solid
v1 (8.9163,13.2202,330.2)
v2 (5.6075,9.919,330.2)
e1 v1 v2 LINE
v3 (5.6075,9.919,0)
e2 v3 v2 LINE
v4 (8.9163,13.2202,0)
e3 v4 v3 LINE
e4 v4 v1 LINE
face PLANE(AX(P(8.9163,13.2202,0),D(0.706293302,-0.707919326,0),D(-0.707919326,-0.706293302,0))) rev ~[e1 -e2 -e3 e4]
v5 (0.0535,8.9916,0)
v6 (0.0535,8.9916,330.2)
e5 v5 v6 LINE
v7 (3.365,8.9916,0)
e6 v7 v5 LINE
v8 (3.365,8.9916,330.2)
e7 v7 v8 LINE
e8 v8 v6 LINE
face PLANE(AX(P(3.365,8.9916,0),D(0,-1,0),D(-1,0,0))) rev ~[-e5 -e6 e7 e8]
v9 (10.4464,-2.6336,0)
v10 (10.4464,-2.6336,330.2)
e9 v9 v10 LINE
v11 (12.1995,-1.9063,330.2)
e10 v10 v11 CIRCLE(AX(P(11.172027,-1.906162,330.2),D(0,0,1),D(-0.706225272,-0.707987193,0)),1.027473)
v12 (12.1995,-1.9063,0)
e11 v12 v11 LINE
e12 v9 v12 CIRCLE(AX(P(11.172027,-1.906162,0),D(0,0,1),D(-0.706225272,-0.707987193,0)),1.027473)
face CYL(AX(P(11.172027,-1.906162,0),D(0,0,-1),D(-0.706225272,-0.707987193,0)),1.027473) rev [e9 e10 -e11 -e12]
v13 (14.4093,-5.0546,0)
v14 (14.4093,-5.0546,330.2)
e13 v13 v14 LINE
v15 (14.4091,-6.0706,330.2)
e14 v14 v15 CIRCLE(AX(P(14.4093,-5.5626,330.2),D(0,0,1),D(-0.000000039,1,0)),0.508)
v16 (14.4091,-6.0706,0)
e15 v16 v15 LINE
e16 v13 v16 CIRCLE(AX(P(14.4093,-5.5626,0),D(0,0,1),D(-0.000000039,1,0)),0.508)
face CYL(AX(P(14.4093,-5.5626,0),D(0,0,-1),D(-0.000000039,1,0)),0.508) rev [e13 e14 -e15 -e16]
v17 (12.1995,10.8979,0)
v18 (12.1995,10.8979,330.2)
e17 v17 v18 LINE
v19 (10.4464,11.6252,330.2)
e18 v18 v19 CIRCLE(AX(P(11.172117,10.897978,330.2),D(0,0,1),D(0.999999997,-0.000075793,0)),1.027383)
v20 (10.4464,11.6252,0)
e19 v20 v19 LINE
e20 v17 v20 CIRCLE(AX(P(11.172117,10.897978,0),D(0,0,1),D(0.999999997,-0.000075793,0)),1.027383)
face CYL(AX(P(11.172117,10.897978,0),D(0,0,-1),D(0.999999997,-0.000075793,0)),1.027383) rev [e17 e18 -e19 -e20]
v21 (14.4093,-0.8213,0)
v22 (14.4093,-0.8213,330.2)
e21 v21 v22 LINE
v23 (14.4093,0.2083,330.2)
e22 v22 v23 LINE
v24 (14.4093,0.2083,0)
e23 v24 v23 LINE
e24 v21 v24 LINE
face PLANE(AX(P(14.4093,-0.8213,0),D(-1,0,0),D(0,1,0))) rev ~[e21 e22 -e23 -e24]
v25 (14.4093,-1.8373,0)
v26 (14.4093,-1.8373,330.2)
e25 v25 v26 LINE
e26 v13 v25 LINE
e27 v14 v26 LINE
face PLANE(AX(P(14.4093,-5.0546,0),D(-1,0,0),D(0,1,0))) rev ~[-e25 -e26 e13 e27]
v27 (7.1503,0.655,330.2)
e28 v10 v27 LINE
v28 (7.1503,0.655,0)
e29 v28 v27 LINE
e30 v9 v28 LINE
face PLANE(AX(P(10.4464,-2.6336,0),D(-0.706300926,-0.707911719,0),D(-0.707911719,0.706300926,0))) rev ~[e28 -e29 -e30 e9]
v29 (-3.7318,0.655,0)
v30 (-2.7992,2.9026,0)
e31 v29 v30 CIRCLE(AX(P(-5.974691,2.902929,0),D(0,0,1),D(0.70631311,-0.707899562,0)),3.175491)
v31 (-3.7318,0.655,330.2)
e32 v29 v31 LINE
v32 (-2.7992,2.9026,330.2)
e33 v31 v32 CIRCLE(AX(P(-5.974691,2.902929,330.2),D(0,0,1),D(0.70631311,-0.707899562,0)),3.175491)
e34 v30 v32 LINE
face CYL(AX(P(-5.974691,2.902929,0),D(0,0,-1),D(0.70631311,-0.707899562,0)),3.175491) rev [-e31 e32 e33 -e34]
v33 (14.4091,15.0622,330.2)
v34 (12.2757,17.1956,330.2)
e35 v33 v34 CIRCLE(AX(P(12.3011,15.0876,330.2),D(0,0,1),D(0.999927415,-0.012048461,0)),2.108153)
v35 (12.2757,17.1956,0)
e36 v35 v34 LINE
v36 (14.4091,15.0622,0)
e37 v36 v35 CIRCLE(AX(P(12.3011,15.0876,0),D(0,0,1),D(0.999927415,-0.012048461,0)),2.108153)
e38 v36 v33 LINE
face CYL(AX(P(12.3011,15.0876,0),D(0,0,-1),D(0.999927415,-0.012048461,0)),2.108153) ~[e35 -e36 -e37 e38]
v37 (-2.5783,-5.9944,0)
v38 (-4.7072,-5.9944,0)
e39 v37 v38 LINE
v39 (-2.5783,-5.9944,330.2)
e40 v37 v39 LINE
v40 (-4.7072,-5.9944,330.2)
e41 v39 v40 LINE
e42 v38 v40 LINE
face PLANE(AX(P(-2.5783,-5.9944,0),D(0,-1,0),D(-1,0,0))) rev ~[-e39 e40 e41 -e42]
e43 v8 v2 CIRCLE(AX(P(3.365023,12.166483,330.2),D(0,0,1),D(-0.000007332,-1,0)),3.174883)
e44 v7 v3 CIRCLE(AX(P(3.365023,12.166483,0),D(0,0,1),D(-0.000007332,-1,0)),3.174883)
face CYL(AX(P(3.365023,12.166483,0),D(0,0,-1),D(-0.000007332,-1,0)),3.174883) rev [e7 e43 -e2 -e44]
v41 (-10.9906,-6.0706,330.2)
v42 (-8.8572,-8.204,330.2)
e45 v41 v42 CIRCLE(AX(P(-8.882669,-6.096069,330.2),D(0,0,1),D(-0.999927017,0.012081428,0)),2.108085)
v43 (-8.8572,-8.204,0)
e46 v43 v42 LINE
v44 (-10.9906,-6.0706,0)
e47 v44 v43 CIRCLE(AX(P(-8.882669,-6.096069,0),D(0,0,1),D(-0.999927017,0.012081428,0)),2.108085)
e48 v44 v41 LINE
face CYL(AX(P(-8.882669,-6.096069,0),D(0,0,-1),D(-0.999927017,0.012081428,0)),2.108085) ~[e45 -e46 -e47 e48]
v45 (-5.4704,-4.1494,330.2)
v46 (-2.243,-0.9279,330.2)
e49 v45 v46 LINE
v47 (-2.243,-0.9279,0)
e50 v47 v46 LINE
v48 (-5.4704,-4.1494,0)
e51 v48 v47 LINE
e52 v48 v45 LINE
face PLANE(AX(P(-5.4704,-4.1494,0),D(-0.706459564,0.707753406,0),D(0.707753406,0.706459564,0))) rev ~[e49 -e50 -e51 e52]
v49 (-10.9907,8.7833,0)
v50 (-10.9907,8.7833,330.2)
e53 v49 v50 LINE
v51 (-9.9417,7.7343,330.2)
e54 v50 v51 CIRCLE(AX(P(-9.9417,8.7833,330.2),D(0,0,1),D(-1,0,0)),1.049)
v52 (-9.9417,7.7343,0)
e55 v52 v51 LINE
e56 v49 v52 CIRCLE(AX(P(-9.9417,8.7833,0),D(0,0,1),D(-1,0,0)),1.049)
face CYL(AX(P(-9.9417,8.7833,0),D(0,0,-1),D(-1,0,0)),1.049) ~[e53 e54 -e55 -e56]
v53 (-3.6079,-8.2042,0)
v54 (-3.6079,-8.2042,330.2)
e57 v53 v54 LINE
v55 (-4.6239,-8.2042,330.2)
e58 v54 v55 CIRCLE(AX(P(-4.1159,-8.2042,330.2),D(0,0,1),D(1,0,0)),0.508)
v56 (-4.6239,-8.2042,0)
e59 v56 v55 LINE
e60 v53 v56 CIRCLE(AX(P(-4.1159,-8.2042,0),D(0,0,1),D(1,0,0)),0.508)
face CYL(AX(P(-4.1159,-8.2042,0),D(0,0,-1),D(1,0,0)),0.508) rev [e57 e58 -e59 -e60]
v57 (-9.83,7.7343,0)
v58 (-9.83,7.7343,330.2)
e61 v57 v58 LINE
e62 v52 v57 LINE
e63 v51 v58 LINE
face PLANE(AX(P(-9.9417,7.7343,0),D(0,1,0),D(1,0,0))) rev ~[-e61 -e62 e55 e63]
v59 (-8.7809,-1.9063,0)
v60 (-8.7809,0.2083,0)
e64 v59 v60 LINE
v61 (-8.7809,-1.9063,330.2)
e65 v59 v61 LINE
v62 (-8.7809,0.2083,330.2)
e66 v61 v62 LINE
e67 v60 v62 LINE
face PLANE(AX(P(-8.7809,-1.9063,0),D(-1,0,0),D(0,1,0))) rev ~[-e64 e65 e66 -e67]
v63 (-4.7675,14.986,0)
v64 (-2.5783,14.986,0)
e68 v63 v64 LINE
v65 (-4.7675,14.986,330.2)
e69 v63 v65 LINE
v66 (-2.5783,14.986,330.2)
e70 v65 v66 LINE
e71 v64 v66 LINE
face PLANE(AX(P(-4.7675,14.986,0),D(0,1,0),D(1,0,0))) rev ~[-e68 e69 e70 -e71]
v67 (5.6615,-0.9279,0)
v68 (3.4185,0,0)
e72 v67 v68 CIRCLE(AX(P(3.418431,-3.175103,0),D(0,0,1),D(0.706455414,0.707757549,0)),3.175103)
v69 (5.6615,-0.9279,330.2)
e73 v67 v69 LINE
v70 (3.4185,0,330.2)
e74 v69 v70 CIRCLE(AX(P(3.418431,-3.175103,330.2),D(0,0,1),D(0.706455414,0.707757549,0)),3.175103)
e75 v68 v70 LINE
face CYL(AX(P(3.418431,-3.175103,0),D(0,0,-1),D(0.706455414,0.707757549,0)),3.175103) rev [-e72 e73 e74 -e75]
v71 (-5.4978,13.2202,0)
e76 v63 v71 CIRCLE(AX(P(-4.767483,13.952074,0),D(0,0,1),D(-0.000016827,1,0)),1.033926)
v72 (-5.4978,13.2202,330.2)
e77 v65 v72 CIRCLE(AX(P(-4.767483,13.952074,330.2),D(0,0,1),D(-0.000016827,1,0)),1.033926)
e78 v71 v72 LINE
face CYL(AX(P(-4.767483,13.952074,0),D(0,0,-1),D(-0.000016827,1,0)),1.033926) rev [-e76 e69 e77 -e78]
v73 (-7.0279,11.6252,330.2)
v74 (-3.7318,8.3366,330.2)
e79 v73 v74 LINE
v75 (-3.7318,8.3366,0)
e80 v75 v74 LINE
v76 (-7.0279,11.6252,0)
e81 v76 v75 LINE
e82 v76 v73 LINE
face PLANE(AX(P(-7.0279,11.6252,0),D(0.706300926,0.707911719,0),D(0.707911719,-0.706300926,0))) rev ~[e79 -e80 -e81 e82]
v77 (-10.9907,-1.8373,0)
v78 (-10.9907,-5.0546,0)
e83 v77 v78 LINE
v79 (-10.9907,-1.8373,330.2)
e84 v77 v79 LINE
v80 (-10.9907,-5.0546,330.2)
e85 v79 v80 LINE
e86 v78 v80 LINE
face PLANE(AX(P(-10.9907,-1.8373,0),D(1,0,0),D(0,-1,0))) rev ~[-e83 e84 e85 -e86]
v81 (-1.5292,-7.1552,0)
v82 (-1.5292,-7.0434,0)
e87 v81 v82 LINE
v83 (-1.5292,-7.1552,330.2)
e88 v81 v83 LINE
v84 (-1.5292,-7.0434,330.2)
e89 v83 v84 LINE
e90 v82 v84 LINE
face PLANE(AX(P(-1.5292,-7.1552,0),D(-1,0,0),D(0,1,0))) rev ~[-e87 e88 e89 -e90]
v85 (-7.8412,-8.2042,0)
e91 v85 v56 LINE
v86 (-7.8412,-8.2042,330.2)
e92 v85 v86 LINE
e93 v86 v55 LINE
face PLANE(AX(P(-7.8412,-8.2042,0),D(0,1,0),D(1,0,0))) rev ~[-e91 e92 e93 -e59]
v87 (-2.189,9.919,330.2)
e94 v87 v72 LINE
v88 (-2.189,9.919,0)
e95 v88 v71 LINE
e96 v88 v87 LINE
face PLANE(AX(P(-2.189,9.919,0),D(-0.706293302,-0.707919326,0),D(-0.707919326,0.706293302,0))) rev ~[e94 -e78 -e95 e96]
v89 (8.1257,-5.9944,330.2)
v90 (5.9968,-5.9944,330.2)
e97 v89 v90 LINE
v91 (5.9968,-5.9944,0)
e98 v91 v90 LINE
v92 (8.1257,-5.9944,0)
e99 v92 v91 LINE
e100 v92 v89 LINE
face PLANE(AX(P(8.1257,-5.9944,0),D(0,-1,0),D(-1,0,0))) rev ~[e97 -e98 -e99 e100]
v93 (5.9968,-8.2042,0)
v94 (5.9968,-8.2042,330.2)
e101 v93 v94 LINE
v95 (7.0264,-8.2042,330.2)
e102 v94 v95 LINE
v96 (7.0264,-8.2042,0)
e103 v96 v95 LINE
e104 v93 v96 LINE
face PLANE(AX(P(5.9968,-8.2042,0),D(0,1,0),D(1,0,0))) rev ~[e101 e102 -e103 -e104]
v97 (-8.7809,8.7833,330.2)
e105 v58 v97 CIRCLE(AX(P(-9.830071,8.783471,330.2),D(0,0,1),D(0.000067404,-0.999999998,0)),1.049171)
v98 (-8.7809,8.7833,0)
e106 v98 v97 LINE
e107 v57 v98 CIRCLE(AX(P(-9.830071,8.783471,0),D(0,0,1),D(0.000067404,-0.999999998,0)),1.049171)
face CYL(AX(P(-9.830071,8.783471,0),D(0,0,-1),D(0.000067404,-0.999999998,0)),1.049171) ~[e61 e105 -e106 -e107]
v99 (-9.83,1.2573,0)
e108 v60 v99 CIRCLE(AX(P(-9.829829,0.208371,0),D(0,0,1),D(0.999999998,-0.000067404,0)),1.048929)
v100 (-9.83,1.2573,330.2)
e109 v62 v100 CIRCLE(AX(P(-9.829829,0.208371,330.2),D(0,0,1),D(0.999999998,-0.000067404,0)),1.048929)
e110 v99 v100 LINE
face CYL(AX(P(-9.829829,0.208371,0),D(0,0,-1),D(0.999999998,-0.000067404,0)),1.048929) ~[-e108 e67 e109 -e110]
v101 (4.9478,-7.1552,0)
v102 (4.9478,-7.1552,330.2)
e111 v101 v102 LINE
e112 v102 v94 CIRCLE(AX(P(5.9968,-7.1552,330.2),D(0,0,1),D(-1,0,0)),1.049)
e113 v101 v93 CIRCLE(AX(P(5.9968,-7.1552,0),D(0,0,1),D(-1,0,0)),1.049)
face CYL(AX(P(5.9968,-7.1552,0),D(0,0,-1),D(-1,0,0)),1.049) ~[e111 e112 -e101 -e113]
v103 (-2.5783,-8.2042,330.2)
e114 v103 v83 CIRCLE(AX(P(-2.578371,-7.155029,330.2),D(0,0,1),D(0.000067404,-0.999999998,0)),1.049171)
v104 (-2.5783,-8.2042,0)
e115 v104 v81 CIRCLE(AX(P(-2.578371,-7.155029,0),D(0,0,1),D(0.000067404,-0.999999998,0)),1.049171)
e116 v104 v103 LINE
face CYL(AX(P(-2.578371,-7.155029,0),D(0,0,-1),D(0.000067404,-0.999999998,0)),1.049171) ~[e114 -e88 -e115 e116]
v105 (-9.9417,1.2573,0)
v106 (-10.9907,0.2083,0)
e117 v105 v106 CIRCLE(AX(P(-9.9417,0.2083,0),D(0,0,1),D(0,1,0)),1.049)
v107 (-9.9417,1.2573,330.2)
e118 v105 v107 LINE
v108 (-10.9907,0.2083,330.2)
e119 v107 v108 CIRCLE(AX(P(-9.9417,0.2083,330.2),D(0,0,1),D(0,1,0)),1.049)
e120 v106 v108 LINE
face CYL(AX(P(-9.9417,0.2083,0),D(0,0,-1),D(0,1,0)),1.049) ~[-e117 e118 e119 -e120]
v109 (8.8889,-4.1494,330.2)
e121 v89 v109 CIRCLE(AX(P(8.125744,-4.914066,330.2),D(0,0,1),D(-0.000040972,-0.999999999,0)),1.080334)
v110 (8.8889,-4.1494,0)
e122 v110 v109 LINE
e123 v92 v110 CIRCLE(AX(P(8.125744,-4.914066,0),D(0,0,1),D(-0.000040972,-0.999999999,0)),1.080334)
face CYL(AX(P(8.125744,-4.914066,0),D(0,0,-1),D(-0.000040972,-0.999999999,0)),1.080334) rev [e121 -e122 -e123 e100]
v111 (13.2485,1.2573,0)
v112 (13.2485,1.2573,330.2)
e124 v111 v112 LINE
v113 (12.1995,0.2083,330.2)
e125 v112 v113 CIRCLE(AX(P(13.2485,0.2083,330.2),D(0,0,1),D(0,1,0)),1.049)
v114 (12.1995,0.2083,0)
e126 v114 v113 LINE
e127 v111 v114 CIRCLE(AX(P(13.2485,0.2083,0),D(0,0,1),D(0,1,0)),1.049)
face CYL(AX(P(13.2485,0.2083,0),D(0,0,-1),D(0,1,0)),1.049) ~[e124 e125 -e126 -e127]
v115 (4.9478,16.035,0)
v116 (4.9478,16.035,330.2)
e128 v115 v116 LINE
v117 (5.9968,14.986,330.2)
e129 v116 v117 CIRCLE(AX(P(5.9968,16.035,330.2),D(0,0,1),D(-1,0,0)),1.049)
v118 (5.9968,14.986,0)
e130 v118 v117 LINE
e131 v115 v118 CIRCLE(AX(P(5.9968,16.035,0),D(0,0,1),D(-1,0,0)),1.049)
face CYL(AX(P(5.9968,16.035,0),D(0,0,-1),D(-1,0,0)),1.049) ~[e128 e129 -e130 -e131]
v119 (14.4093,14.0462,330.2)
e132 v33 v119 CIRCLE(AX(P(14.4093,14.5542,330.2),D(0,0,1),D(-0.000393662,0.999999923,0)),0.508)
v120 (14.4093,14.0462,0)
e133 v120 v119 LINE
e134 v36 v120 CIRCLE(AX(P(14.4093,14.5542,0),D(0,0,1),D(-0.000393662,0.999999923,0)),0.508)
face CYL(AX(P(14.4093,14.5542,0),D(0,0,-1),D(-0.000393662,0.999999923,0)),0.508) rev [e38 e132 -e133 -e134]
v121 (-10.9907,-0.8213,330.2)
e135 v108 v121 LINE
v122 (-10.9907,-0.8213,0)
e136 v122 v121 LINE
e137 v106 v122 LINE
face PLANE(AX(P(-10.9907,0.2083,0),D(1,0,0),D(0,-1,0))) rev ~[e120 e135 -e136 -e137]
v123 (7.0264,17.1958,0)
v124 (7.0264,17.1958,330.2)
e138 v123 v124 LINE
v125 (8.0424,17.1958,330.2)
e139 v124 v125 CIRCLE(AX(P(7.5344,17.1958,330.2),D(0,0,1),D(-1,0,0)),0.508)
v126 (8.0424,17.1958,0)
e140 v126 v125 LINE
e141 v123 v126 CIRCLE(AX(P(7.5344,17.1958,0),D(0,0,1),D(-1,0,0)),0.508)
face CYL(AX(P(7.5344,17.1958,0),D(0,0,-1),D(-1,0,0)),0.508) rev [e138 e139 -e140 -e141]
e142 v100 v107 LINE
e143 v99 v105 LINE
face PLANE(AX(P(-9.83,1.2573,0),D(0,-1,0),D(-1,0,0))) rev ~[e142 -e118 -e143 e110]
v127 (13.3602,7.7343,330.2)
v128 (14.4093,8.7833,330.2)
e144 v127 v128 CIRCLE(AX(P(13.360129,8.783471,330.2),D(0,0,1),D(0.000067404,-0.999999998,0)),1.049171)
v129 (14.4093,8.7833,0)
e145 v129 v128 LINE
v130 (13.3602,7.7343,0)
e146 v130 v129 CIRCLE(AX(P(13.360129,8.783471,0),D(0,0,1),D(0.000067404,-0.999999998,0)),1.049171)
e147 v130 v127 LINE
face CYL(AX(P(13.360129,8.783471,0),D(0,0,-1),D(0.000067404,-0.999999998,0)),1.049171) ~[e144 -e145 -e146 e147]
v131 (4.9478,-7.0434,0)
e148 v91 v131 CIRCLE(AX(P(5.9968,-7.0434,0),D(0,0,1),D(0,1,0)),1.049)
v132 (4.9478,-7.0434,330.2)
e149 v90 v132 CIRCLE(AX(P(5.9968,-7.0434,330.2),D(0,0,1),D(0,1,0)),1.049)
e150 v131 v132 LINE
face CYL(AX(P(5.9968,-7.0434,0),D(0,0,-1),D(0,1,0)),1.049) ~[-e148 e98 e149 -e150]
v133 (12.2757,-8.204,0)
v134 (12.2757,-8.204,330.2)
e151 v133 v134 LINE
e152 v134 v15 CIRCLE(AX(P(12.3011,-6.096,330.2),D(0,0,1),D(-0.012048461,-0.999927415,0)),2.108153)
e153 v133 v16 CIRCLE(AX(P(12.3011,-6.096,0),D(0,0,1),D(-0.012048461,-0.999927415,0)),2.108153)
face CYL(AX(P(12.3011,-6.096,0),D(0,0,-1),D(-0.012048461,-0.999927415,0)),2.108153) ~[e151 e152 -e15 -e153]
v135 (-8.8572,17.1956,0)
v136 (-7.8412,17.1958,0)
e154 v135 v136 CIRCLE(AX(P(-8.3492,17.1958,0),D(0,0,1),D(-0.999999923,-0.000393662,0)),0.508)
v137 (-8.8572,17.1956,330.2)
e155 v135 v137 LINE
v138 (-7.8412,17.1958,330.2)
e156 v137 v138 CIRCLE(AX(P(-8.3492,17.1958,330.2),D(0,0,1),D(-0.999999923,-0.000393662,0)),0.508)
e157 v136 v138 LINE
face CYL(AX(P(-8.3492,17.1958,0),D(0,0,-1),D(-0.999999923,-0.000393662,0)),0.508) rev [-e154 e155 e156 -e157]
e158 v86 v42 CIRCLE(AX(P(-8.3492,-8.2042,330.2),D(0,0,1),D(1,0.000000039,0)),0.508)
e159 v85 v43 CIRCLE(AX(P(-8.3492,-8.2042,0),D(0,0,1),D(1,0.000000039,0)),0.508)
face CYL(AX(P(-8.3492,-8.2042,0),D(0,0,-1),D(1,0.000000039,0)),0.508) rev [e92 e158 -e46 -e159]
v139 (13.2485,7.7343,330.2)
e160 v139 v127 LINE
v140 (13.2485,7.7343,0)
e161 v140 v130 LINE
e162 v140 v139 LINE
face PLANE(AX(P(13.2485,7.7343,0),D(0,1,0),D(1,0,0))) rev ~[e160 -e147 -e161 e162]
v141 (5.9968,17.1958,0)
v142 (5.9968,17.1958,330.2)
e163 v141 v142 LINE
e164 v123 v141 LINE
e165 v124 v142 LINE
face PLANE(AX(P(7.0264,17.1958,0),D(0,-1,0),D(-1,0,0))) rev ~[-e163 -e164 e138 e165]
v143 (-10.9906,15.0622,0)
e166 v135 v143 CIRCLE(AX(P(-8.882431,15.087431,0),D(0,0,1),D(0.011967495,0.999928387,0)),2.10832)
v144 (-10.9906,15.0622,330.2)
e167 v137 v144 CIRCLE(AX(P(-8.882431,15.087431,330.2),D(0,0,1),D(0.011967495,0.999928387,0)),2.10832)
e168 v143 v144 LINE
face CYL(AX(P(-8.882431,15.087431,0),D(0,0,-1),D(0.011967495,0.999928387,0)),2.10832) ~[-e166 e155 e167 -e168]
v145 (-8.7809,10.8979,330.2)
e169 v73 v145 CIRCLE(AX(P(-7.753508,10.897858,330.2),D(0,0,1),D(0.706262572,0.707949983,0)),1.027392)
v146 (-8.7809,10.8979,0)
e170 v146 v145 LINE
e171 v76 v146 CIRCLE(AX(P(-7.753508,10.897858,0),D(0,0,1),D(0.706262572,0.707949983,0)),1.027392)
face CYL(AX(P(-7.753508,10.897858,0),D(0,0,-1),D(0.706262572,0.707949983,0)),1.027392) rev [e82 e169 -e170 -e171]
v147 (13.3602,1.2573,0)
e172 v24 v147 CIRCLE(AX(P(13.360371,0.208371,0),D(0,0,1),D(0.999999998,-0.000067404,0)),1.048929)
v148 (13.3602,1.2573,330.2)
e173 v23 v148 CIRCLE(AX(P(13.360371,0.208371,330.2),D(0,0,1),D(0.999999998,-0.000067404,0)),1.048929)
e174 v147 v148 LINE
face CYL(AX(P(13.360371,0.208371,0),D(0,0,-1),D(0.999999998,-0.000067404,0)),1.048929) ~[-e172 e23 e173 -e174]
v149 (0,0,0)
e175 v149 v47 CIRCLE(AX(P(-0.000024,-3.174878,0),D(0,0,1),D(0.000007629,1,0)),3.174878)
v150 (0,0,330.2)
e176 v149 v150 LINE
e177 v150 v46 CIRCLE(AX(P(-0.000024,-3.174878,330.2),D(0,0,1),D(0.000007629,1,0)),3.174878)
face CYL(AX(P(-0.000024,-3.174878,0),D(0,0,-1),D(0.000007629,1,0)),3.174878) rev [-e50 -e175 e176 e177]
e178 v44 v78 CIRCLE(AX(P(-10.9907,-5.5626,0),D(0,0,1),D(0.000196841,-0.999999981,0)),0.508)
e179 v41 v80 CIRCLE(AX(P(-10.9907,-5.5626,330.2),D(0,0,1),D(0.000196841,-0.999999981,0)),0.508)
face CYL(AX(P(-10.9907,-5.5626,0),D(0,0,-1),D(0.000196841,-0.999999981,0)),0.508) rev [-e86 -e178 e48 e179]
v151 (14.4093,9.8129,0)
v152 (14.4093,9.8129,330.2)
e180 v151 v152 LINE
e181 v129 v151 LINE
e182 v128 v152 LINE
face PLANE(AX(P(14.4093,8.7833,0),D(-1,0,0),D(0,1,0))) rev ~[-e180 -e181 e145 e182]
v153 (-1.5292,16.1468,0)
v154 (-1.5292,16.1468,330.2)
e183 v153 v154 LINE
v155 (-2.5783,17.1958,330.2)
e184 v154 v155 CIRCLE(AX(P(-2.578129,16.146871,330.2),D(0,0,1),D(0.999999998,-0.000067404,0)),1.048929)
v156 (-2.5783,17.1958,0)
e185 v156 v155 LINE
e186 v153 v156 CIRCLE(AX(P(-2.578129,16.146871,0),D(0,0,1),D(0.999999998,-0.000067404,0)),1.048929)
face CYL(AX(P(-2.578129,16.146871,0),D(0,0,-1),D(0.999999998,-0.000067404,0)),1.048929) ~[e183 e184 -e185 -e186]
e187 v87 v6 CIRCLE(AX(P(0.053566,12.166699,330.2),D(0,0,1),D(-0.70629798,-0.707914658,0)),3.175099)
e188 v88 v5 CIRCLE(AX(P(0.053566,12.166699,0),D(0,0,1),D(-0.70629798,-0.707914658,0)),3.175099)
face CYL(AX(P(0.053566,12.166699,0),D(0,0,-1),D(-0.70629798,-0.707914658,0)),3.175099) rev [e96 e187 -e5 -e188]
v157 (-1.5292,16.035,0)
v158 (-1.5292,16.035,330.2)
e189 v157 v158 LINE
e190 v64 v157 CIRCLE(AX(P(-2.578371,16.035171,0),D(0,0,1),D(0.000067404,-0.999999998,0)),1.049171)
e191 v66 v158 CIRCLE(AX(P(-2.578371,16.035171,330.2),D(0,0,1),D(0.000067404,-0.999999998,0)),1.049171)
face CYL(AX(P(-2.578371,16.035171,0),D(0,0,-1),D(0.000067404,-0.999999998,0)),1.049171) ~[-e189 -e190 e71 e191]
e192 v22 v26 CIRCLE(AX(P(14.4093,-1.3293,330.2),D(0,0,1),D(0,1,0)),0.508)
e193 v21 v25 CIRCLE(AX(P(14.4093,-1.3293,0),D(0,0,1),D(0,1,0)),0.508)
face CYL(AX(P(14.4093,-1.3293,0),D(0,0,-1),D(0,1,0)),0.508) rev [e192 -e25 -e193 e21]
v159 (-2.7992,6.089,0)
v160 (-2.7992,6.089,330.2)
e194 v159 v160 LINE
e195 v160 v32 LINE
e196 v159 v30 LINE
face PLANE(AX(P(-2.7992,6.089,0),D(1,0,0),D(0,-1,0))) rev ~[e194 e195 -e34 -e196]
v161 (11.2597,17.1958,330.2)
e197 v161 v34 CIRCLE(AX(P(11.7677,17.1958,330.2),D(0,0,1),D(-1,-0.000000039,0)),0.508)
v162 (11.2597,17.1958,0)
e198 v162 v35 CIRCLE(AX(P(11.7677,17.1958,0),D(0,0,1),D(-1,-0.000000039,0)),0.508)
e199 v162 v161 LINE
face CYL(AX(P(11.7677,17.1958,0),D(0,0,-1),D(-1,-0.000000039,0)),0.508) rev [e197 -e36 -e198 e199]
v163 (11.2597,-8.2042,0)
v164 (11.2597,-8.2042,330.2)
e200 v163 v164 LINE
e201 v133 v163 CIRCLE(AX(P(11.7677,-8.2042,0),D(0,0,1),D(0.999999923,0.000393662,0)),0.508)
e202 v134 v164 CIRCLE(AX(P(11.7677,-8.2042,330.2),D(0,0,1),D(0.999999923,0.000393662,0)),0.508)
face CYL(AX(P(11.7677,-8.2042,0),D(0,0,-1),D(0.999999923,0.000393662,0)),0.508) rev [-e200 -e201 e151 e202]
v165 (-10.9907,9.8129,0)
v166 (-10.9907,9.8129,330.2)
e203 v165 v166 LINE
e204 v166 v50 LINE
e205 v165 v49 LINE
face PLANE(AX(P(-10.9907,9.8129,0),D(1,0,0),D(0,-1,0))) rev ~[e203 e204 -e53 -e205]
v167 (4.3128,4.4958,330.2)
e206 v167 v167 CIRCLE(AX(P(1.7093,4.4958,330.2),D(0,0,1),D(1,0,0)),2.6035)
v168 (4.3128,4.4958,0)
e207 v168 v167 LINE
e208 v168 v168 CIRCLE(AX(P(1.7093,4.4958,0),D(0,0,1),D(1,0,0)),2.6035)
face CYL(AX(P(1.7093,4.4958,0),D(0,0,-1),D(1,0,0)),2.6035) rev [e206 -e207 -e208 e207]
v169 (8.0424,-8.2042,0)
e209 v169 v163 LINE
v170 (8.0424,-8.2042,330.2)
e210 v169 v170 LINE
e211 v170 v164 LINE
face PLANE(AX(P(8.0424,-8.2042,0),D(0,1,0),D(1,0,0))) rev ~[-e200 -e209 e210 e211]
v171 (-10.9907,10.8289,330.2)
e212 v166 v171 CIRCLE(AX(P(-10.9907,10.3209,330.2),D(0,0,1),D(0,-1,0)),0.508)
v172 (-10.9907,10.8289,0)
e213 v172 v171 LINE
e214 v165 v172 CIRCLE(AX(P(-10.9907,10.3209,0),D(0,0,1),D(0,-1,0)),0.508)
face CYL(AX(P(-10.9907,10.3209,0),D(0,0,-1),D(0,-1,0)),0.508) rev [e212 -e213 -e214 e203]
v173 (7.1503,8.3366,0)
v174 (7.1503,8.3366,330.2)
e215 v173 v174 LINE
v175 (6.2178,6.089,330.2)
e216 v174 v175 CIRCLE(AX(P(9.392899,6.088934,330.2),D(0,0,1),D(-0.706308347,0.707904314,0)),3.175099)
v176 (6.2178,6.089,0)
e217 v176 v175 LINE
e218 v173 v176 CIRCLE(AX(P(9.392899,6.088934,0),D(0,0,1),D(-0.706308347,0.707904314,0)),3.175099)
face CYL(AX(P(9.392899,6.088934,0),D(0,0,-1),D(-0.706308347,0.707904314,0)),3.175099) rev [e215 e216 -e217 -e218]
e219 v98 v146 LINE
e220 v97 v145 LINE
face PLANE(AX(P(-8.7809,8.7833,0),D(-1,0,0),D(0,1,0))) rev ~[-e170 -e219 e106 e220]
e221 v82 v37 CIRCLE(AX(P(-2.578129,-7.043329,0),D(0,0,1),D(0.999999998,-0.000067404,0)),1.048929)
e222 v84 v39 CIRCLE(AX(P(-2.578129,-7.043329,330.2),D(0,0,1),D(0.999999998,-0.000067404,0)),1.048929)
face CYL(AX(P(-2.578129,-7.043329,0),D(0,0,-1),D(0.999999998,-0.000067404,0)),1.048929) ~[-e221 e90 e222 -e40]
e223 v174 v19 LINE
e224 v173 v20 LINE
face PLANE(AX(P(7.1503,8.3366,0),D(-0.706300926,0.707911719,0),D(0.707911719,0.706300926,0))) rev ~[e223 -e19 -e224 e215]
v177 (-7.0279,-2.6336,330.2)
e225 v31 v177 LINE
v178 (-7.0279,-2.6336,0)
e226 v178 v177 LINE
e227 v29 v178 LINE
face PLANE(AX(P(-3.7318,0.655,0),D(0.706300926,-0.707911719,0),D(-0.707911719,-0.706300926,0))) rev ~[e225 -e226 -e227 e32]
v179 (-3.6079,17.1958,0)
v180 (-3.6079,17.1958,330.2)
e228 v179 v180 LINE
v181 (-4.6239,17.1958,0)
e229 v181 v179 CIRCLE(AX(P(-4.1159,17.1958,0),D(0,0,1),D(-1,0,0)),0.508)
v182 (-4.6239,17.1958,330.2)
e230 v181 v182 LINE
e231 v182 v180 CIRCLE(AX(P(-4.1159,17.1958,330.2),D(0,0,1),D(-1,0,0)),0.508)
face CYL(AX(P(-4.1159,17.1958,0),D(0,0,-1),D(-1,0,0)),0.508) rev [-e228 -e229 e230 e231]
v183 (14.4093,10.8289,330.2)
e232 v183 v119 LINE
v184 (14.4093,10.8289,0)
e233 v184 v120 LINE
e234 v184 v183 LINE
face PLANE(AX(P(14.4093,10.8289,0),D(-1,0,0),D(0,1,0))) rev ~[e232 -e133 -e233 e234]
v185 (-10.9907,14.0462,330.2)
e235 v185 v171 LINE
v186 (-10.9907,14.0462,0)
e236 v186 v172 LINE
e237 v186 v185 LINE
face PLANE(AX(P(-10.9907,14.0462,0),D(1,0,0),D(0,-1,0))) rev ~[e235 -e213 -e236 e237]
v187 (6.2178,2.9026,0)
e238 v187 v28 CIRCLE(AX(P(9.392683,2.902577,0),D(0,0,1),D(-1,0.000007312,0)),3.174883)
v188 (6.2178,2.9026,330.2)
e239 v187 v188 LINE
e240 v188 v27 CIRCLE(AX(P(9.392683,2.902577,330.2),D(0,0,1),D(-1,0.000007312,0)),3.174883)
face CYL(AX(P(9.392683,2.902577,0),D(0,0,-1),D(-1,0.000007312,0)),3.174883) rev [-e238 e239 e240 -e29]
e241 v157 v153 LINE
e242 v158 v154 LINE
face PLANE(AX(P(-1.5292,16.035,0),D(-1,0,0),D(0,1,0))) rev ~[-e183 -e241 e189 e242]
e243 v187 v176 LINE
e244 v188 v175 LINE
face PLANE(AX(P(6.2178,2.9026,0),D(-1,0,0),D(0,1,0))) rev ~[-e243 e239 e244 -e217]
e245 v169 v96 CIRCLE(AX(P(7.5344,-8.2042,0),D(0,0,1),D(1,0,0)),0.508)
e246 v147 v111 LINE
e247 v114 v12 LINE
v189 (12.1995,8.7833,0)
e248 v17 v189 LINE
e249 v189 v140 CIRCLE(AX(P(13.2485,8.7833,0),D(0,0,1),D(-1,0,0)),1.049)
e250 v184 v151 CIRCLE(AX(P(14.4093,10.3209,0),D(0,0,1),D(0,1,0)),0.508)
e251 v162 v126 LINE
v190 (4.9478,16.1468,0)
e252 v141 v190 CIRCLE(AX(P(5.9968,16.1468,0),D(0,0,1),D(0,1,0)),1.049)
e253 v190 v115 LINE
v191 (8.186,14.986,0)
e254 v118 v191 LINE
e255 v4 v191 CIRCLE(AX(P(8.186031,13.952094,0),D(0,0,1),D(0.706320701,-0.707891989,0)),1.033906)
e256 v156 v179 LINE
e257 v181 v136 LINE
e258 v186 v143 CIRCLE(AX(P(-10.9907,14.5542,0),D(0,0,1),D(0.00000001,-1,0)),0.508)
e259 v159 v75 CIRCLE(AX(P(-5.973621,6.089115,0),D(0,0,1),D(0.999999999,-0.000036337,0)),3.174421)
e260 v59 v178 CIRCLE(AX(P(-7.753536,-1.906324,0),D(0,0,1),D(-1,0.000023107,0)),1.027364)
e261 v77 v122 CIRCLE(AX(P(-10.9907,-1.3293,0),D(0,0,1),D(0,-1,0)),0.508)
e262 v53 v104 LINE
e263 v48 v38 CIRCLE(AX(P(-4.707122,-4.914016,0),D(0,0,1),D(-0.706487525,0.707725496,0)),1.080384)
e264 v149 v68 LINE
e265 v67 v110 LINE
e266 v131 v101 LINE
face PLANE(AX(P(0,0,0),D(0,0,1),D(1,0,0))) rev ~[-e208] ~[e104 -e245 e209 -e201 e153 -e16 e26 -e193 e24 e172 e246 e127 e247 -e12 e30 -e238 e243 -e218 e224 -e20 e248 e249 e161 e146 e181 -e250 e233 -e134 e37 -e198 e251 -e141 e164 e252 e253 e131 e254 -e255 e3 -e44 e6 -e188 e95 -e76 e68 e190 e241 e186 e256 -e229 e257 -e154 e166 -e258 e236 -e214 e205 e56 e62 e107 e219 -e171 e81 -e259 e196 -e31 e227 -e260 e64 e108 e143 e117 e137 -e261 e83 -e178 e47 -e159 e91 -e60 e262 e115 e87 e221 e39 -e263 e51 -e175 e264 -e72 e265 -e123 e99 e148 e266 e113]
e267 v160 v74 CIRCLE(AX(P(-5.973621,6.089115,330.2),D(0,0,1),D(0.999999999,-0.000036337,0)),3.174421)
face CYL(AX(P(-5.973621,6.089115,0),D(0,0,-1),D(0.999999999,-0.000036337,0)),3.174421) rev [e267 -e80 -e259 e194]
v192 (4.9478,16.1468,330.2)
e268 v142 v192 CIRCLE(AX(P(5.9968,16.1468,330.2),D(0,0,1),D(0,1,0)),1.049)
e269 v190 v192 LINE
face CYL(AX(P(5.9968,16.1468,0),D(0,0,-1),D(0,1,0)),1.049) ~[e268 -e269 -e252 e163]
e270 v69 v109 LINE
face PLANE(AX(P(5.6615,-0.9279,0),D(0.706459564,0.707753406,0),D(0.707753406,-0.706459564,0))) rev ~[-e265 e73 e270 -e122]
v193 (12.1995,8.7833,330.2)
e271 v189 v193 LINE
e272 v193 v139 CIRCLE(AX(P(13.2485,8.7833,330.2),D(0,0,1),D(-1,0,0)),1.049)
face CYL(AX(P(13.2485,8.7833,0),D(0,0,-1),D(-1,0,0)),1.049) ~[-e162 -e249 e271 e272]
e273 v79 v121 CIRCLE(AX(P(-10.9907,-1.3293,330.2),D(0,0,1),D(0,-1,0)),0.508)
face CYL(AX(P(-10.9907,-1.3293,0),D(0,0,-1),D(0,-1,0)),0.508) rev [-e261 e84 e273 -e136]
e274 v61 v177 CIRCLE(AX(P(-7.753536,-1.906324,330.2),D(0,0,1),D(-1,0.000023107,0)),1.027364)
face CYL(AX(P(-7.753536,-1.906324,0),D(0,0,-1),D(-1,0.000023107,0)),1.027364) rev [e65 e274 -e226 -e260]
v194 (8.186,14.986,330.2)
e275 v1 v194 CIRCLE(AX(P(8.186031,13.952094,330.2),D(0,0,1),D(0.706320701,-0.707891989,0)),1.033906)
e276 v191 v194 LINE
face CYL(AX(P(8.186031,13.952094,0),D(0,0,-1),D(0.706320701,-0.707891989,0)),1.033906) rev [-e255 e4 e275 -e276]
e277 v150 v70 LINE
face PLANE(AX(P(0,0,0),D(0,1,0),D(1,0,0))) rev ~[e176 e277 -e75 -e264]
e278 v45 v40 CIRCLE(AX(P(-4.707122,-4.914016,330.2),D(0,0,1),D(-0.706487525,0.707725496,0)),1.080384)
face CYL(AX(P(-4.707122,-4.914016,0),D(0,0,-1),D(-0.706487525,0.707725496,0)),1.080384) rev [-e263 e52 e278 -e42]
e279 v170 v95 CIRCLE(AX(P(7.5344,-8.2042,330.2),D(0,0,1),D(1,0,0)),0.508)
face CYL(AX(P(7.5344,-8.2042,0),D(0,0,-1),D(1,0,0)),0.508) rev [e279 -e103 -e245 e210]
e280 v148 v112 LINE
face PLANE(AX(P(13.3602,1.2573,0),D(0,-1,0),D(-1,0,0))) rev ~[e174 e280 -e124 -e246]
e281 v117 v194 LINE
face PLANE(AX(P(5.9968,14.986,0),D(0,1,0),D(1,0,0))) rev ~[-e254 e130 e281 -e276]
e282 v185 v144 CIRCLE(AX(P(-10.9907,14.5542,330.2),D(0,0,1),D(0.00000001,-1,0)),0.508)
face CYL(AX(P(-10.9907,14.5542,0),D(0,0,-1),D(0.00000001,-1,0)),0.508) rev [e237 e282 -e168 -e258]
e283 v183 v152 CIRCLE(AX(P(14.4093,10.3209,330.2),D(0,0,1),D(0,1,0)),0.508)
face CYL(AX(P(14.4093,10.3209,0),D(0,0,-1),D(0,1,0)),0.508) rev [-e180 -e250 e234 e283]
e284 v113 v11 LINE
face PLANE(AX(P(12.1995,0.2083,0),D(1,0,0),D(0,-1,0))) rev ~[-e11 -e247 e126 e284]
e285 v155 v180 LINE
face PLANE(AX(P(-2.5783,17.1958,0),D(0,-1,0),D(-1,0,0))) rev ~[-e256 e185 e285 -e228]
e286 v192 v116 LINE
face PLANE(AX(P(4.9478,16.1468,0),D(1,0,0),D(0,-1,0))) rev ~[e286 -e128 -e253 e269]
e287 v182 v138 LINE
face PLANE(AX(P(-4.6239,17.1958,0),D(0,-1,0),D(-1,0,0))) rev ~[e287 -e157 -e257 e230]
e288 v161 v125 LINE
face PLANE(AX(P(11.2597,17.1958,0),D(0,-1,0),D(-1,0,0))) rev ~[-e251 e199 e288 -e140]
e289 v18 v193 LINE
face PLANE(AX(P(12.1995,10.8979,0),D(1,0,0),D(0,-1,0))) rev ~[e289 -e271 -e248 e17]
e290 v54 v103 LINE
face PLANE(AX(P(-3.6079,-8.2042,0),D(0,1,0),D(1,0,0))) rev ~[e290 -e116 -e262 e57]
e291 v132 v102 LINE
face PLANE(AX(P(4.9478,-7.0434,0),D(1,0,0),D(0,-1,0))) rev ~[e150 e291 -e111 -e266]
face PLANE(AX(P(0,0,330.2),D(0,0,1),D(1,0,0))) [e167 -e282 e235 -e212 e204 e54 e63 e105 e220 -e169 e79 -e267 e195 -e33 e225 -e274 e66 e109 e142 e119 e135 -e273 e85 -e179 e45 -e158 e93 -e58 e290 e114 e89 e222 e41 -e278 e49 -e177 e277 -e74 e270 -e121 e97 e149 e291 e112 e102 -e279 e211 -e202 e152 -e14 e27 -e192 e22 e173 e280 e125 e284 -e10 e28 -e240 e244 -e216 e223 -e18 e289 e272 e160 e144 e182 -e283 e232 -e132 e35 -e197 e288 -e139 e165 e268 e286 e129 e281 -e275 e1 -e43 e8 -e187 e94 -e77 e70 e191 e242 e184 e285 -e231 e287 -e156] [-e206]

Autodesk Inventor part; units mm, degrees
ref_plane "YZ Plane" through (0, 0, 0) normal (1, 0, 0) x (0, 1, 0)
ref_plane "XZ Plane" through (0, 0, 0) normal (0, 1, 0) x (-1, 0, 0)
ref_plane "XY Plane" through (0, 0, 0) normal (0, 0, 1) x (1, 0, 0)
sketch "Sketch1" plane through (0, 0, 0) normal (0, 0, 1) x (1, 0, 0)
  arc A0 (-5.4704, -4.1494) -> (-4.7072, -5.9944) centre (-4.7072, -4.914) ccw
  line L0 (-5.4704, -4.1494) -> (-2.243, -0.9279)
  arc A1 (0, 0) -> (-2.243, -0.9279) centre (0, -3.175) ccw
  line L1 (0, 0) -> (3.4185, 0)
  arc A2 (5.6615, -0.9279) -> (3.4185, 0) centre (3.4185, -3.175) ccw
  line L2 (5.6615, -0.9279) -> (8.8889, -4.1494)
  arc A3 (8.1257, -5.9944) -> (8.8889, -4.1494) centre (8.1257, -4.914) ccw
  line L3 (8.1257, -5.9944) -> (5.9968, -5.9944)
  arc A4 (5.9968, -5.9944) -> (4.9478, -7.0434) centre (5.9968, -7.0434) ccw
  line L4 (4.9478, -7.0434) -> (4.9478, -7.1552)
  arc A5 (4.9478, -7.1552) -> (5.9968, -8.2042) centre (5.9968, -7.1552) ccw
  line L5 (5.9968, -8.2042) -> (7.0264, -8.2042)
  arc A6 (8.0424, -8.2042) -> (7.0264, -8.2042) centre (7.5344, -8.2042) ccw
  line L6 (8.0424, -8.2042) -> (11.2597, -8.2042)
  arc A7 (12.2757, -8.204) -> (11.2597, -8.2042) centre (11.7677, -8.2042) ccw
  arc A8 (12.2757, -8.204) -> (14.4091, -6.0706) centre (12.3011, -6.096) ccw
  arc A9 (14.4093, -5.0546) -> (14.4091, -6.0706) centre (14.4093, -5.5626) ccw
  line L7 (14.4093, -5.0546) -> (14.4093, -1.8373)
  arc A10 (14.4093, -0.8213) -> (14.4093, -1.8373) centre (14.4093, -1.3293) ccw
  line L8 (14.4093, -0.8213) -> (14.4093, 0.2083)
  arc A11 (14.4093, 0.2083) -> (13.3602, 1.2573) centre (13.3602, 0.2083) ccw
  line L9 (13.3602, 1.2573) -> (13.2485, 1.2573)
  arc A12 (13.2485, 1.2573) -> (12.1995, 0.2083) centre (13.2485, 0.2083) ccw
  line L10 (12.1995, 0.2083) -> (12.1995, -1.9063)
  arc A13 (10.4464, -2.6336) -> (12.1995, -1.9063) centre (11.172, -1.9063) ccw
  line L11 (10.4464, -2.6336) -> (7.1503, 0.655)
  arc A14 (6.2178, 2.9026) -> (7.1503, 0.655) centre (9.3928, 2.9026) ccw
  line L12 (6.2178, 2.9026) -> (6.2178, 6.089)
  arc A15 (7.1503, 8.3366) -> (6.2178, 6.089) centre (9.3928, 6.089) ccw
  line L13 (7.1503, 8.3366) -> (10.4464, 11.6252)
  arc A16 (12.1995, 10.8979) -> (10.4464, 11.6252) centre (11.172, 10.8979) ccw
  line L14 (12.1995, 10.8979) -> (12.1995, 8.7833)
  arc A17 (12.1995, 8.7833) -> (13.2485, 7.7343) centre (13.2485, 8.7833) ccw
  line L15 (13.2485, 7.7343) -> (13.3602, 7.7343)
  arc A18 (13.3602, 7.7343) -> (14.4093, 8.7833) centre (13.3602, 8.7833) ccw
  line L16 (14.4093, 8.7833) -> (14.4093, 9.8129)
  arc A19 (14.4093, 10.8289) -> (14.4093, 9.8129) centre (14.4093, 10.3209) ccw
  line L17 (14.4093, 10.8289) -> (14.4093, 14.0462)
  arc A20 (14.4091, 15.0622) -> (14.4093, 14.0462) centre (14.4093, 14.5542) ccw
  arc A21 (14.4091, 15.0622) -> (12.2757, 17.1956) centre (12.3011, 15.0876) ccw
  arc A22 (11.2597, 17.1958) -> (12.2757, 17.1956) centre (11.7677, 17.1958) ccw
  line L18 (11.2597, 17.1958) -> (8.0424, 17.1958)
  arc A23 (7.0264, 17.1958) -> (8.0424, 17.1958) centre (7.5344, 17.1958) ccw
  line L19 (7.0264, 17.1958) -> (5.9968, 17.1958)
  arc A24 (5.9968, 17.1958) -> (4.9478, 16.1468) centre (5.9968, 16.1468) ccw
  line L20 (4.9478, 16.1468) -> (4.9478, 16.035)
  arc A25 (4.9478, 16.035) -> (5.9968, 14.986) centre (5.9968, 16.035) ccw
  line L21 (5.9968, 14.986) -> (8.186, 14.986)
  arc A26 (8.9163, 13.2202) -> (8.186, 14.986) centre (8.186, 13.9521) ccw
  line L22 (8.9163, 13.2202) -> (5.6075, 9.919)
  arc A27 (3.365, 8.9916) -> (5.6075, 9.919) centre (3.365, 12.1666) ccw
  line L23 (3.365, 8.9916) -> (0.0535, 8.9916)
  arc A28 (-2.189, 9.919) -> (0.0535, 8.9916) centre (0.0535, 12.1666) ccw
  line L24 (-2.189, 9.919) -> (-5.4978, 13.2202)
  arc A29 (-4.7675, 14.986) -> (-5.4978, 13.2202) centre (-4.7675, 13.9521) ccw
  line L25 (-4.7675, 14.986) -> (-2.5783, 14.986)
  arc A30 (-2.5783, 14.986) -> (-1.5292, 16.035) centre (-2.5783, 16.035) ccw
  line L26 (-1.5292, 16.035) -> (-1.5292, 16.1468)
  arc A31 (-1.5292, 16.1468) -> (-2.5783, 17.1958) centre (-2.5783, 16.1468) ccw
  line L27 (-2.5783, 17.1958) -> (-3.6079, 17.1958)
  arc A32 (-4.6239, 17.1958) -> (-3.6079, 17.1958) centre (-4.1159, 17.1958) ccw
  line L28 (-4.6239, 17.1958) -> (-7.8412, 17.1958)
  arc A33 (-8.8572, 17.1956) -> (-7.8412, 17.1958) centre (-8.3492, 17.1958) ccw
  arc A34 (-8.8572, 17.1956) -> (-10.9906, 15.0622) centre (-8.8825, 15.0876) ccw
  arc A35 (-10.9907, 14.0462) -> (-10.9906, 15.0622) centre (-10.9907, 14.5542) ccw
  line L29 (-10.9907, 14.0462) -> (-10.9907, 10.8289)
  arc A36 (-10.9907, 9.8129) -> (-10.9907, 10.8289) centre (-10.9907, 10.3209) ccw
  line L30 (-10.9907, 9.8129) -> (-10.9907, 8.7833)
  arc A37 (-10.9907, 8.7833) -> (-9.9417, 7.7343) centre (-9.9417, 8.7833) ccw
  line L31 (-9.9417, 7.7343) -> (-9.83, 7.7343)
  arc A38 (-9.83, 7.7343) -> (-8.7809, 8.7833) centre (-9.83, 8.7833) ccw
  line L32 (-8.7809, 8.7833) -> (-8.7809, 10.8979)
  arc A39 (-7.0279, 11.6252) -> (-8.7809, 10.8979) centre (-7.7535, 10.8979) ccw
  line L33 (-7.0279, 11.6252) -> (-3.7318, 8.3366)
  arc A40 (-2.7992, 6.089) -> (-3.7318, 8.3366) centre (-5.9742, 6.089) ccw
  line L34 (-2.7992, 6.089) -> (-2.7992, 2.9026)
  arc A41 (-3.7318, 0.655) -> (-2.7992, 2.9026) centre (-5.9742, 2.9026) ccw
  line L35 (-3.7318, 0.655) -> (-7.0279, -2.6336)
  arc A42 (-8.7809, -1.9063) -> (-7.0279, -2.6336) centre (-7.7535, -1.9063) ccw
  line L36 (-8.7809, -1.9063) -> (-8.7809, 0.2083)
  arc A43 (-8.7809, 0.2083) -> (-9.83, 1.2573) centre (-9.83, 0.2083) ccw
  line L37 (-9.83, 1.2573) -> (-9.9417, 1.2573)
  arc A44 (-9.9417, 1.2573) -> (-10.9907, 0.2083) centre (-9.9417, 0.2083) ccw
  line L38 (-10.9907, 0.2083) -> (-10.9907, -0.8213)
  arc A45 (-10.9907, -1.8373) -> (-10.9907, -0.8213) centre (-10.9907, -1.3293) ccw
  line L39 (-10.9907, -1.8373) -> (-10.9907, -5.0546)
  arc A46 (-10.9906, -6.0706) -> (-10.9907, -5.0546) centre (-10.9907, -5.5626) ccw
  arc A47 (-10.9906, -6.0706) -> (-8.8572, -8.204) centre (-8.8825, -6.096) ccw
  arc A48 (-7.8412, -8.2042) -> (-8.8572, -8.204) centre (-8.3492, -8.2042) ccw
  line L40 (-7.8412, -8.2042) -> (-4.6239, -8.2042)
  arc A49 (-3.6079, -8.2042) -> (-4.6239, -8.2042) centre (-4.1159, -8.2042) ccw
  line L41 (-3.6079, -8.2042) -> (-2.5783, -8.2042)
  arc A50 (-2.5783, -8.2042) -> (-1.5292, -7.1552) centre (-2.5783, -7.1552) ccw
  line L42 (-1.5292, -7.1552) -> (-1.5292, -7.0434)
  arc A51 (-1.5292, -7.0434) -> (-2.5783, -5.9944) centre (-2.5783, -7.0434) ccw
  line L43 (-2.5783, -5.9944) -> (-4.7072, -5.9944)
  circle A52 centre (1.7093, 4.4958) radius 2.6035
extrude "Extrusion1" add sketch "Sketch1" along normal blind 330.2
properties part number "13in 1x1 T slot"
